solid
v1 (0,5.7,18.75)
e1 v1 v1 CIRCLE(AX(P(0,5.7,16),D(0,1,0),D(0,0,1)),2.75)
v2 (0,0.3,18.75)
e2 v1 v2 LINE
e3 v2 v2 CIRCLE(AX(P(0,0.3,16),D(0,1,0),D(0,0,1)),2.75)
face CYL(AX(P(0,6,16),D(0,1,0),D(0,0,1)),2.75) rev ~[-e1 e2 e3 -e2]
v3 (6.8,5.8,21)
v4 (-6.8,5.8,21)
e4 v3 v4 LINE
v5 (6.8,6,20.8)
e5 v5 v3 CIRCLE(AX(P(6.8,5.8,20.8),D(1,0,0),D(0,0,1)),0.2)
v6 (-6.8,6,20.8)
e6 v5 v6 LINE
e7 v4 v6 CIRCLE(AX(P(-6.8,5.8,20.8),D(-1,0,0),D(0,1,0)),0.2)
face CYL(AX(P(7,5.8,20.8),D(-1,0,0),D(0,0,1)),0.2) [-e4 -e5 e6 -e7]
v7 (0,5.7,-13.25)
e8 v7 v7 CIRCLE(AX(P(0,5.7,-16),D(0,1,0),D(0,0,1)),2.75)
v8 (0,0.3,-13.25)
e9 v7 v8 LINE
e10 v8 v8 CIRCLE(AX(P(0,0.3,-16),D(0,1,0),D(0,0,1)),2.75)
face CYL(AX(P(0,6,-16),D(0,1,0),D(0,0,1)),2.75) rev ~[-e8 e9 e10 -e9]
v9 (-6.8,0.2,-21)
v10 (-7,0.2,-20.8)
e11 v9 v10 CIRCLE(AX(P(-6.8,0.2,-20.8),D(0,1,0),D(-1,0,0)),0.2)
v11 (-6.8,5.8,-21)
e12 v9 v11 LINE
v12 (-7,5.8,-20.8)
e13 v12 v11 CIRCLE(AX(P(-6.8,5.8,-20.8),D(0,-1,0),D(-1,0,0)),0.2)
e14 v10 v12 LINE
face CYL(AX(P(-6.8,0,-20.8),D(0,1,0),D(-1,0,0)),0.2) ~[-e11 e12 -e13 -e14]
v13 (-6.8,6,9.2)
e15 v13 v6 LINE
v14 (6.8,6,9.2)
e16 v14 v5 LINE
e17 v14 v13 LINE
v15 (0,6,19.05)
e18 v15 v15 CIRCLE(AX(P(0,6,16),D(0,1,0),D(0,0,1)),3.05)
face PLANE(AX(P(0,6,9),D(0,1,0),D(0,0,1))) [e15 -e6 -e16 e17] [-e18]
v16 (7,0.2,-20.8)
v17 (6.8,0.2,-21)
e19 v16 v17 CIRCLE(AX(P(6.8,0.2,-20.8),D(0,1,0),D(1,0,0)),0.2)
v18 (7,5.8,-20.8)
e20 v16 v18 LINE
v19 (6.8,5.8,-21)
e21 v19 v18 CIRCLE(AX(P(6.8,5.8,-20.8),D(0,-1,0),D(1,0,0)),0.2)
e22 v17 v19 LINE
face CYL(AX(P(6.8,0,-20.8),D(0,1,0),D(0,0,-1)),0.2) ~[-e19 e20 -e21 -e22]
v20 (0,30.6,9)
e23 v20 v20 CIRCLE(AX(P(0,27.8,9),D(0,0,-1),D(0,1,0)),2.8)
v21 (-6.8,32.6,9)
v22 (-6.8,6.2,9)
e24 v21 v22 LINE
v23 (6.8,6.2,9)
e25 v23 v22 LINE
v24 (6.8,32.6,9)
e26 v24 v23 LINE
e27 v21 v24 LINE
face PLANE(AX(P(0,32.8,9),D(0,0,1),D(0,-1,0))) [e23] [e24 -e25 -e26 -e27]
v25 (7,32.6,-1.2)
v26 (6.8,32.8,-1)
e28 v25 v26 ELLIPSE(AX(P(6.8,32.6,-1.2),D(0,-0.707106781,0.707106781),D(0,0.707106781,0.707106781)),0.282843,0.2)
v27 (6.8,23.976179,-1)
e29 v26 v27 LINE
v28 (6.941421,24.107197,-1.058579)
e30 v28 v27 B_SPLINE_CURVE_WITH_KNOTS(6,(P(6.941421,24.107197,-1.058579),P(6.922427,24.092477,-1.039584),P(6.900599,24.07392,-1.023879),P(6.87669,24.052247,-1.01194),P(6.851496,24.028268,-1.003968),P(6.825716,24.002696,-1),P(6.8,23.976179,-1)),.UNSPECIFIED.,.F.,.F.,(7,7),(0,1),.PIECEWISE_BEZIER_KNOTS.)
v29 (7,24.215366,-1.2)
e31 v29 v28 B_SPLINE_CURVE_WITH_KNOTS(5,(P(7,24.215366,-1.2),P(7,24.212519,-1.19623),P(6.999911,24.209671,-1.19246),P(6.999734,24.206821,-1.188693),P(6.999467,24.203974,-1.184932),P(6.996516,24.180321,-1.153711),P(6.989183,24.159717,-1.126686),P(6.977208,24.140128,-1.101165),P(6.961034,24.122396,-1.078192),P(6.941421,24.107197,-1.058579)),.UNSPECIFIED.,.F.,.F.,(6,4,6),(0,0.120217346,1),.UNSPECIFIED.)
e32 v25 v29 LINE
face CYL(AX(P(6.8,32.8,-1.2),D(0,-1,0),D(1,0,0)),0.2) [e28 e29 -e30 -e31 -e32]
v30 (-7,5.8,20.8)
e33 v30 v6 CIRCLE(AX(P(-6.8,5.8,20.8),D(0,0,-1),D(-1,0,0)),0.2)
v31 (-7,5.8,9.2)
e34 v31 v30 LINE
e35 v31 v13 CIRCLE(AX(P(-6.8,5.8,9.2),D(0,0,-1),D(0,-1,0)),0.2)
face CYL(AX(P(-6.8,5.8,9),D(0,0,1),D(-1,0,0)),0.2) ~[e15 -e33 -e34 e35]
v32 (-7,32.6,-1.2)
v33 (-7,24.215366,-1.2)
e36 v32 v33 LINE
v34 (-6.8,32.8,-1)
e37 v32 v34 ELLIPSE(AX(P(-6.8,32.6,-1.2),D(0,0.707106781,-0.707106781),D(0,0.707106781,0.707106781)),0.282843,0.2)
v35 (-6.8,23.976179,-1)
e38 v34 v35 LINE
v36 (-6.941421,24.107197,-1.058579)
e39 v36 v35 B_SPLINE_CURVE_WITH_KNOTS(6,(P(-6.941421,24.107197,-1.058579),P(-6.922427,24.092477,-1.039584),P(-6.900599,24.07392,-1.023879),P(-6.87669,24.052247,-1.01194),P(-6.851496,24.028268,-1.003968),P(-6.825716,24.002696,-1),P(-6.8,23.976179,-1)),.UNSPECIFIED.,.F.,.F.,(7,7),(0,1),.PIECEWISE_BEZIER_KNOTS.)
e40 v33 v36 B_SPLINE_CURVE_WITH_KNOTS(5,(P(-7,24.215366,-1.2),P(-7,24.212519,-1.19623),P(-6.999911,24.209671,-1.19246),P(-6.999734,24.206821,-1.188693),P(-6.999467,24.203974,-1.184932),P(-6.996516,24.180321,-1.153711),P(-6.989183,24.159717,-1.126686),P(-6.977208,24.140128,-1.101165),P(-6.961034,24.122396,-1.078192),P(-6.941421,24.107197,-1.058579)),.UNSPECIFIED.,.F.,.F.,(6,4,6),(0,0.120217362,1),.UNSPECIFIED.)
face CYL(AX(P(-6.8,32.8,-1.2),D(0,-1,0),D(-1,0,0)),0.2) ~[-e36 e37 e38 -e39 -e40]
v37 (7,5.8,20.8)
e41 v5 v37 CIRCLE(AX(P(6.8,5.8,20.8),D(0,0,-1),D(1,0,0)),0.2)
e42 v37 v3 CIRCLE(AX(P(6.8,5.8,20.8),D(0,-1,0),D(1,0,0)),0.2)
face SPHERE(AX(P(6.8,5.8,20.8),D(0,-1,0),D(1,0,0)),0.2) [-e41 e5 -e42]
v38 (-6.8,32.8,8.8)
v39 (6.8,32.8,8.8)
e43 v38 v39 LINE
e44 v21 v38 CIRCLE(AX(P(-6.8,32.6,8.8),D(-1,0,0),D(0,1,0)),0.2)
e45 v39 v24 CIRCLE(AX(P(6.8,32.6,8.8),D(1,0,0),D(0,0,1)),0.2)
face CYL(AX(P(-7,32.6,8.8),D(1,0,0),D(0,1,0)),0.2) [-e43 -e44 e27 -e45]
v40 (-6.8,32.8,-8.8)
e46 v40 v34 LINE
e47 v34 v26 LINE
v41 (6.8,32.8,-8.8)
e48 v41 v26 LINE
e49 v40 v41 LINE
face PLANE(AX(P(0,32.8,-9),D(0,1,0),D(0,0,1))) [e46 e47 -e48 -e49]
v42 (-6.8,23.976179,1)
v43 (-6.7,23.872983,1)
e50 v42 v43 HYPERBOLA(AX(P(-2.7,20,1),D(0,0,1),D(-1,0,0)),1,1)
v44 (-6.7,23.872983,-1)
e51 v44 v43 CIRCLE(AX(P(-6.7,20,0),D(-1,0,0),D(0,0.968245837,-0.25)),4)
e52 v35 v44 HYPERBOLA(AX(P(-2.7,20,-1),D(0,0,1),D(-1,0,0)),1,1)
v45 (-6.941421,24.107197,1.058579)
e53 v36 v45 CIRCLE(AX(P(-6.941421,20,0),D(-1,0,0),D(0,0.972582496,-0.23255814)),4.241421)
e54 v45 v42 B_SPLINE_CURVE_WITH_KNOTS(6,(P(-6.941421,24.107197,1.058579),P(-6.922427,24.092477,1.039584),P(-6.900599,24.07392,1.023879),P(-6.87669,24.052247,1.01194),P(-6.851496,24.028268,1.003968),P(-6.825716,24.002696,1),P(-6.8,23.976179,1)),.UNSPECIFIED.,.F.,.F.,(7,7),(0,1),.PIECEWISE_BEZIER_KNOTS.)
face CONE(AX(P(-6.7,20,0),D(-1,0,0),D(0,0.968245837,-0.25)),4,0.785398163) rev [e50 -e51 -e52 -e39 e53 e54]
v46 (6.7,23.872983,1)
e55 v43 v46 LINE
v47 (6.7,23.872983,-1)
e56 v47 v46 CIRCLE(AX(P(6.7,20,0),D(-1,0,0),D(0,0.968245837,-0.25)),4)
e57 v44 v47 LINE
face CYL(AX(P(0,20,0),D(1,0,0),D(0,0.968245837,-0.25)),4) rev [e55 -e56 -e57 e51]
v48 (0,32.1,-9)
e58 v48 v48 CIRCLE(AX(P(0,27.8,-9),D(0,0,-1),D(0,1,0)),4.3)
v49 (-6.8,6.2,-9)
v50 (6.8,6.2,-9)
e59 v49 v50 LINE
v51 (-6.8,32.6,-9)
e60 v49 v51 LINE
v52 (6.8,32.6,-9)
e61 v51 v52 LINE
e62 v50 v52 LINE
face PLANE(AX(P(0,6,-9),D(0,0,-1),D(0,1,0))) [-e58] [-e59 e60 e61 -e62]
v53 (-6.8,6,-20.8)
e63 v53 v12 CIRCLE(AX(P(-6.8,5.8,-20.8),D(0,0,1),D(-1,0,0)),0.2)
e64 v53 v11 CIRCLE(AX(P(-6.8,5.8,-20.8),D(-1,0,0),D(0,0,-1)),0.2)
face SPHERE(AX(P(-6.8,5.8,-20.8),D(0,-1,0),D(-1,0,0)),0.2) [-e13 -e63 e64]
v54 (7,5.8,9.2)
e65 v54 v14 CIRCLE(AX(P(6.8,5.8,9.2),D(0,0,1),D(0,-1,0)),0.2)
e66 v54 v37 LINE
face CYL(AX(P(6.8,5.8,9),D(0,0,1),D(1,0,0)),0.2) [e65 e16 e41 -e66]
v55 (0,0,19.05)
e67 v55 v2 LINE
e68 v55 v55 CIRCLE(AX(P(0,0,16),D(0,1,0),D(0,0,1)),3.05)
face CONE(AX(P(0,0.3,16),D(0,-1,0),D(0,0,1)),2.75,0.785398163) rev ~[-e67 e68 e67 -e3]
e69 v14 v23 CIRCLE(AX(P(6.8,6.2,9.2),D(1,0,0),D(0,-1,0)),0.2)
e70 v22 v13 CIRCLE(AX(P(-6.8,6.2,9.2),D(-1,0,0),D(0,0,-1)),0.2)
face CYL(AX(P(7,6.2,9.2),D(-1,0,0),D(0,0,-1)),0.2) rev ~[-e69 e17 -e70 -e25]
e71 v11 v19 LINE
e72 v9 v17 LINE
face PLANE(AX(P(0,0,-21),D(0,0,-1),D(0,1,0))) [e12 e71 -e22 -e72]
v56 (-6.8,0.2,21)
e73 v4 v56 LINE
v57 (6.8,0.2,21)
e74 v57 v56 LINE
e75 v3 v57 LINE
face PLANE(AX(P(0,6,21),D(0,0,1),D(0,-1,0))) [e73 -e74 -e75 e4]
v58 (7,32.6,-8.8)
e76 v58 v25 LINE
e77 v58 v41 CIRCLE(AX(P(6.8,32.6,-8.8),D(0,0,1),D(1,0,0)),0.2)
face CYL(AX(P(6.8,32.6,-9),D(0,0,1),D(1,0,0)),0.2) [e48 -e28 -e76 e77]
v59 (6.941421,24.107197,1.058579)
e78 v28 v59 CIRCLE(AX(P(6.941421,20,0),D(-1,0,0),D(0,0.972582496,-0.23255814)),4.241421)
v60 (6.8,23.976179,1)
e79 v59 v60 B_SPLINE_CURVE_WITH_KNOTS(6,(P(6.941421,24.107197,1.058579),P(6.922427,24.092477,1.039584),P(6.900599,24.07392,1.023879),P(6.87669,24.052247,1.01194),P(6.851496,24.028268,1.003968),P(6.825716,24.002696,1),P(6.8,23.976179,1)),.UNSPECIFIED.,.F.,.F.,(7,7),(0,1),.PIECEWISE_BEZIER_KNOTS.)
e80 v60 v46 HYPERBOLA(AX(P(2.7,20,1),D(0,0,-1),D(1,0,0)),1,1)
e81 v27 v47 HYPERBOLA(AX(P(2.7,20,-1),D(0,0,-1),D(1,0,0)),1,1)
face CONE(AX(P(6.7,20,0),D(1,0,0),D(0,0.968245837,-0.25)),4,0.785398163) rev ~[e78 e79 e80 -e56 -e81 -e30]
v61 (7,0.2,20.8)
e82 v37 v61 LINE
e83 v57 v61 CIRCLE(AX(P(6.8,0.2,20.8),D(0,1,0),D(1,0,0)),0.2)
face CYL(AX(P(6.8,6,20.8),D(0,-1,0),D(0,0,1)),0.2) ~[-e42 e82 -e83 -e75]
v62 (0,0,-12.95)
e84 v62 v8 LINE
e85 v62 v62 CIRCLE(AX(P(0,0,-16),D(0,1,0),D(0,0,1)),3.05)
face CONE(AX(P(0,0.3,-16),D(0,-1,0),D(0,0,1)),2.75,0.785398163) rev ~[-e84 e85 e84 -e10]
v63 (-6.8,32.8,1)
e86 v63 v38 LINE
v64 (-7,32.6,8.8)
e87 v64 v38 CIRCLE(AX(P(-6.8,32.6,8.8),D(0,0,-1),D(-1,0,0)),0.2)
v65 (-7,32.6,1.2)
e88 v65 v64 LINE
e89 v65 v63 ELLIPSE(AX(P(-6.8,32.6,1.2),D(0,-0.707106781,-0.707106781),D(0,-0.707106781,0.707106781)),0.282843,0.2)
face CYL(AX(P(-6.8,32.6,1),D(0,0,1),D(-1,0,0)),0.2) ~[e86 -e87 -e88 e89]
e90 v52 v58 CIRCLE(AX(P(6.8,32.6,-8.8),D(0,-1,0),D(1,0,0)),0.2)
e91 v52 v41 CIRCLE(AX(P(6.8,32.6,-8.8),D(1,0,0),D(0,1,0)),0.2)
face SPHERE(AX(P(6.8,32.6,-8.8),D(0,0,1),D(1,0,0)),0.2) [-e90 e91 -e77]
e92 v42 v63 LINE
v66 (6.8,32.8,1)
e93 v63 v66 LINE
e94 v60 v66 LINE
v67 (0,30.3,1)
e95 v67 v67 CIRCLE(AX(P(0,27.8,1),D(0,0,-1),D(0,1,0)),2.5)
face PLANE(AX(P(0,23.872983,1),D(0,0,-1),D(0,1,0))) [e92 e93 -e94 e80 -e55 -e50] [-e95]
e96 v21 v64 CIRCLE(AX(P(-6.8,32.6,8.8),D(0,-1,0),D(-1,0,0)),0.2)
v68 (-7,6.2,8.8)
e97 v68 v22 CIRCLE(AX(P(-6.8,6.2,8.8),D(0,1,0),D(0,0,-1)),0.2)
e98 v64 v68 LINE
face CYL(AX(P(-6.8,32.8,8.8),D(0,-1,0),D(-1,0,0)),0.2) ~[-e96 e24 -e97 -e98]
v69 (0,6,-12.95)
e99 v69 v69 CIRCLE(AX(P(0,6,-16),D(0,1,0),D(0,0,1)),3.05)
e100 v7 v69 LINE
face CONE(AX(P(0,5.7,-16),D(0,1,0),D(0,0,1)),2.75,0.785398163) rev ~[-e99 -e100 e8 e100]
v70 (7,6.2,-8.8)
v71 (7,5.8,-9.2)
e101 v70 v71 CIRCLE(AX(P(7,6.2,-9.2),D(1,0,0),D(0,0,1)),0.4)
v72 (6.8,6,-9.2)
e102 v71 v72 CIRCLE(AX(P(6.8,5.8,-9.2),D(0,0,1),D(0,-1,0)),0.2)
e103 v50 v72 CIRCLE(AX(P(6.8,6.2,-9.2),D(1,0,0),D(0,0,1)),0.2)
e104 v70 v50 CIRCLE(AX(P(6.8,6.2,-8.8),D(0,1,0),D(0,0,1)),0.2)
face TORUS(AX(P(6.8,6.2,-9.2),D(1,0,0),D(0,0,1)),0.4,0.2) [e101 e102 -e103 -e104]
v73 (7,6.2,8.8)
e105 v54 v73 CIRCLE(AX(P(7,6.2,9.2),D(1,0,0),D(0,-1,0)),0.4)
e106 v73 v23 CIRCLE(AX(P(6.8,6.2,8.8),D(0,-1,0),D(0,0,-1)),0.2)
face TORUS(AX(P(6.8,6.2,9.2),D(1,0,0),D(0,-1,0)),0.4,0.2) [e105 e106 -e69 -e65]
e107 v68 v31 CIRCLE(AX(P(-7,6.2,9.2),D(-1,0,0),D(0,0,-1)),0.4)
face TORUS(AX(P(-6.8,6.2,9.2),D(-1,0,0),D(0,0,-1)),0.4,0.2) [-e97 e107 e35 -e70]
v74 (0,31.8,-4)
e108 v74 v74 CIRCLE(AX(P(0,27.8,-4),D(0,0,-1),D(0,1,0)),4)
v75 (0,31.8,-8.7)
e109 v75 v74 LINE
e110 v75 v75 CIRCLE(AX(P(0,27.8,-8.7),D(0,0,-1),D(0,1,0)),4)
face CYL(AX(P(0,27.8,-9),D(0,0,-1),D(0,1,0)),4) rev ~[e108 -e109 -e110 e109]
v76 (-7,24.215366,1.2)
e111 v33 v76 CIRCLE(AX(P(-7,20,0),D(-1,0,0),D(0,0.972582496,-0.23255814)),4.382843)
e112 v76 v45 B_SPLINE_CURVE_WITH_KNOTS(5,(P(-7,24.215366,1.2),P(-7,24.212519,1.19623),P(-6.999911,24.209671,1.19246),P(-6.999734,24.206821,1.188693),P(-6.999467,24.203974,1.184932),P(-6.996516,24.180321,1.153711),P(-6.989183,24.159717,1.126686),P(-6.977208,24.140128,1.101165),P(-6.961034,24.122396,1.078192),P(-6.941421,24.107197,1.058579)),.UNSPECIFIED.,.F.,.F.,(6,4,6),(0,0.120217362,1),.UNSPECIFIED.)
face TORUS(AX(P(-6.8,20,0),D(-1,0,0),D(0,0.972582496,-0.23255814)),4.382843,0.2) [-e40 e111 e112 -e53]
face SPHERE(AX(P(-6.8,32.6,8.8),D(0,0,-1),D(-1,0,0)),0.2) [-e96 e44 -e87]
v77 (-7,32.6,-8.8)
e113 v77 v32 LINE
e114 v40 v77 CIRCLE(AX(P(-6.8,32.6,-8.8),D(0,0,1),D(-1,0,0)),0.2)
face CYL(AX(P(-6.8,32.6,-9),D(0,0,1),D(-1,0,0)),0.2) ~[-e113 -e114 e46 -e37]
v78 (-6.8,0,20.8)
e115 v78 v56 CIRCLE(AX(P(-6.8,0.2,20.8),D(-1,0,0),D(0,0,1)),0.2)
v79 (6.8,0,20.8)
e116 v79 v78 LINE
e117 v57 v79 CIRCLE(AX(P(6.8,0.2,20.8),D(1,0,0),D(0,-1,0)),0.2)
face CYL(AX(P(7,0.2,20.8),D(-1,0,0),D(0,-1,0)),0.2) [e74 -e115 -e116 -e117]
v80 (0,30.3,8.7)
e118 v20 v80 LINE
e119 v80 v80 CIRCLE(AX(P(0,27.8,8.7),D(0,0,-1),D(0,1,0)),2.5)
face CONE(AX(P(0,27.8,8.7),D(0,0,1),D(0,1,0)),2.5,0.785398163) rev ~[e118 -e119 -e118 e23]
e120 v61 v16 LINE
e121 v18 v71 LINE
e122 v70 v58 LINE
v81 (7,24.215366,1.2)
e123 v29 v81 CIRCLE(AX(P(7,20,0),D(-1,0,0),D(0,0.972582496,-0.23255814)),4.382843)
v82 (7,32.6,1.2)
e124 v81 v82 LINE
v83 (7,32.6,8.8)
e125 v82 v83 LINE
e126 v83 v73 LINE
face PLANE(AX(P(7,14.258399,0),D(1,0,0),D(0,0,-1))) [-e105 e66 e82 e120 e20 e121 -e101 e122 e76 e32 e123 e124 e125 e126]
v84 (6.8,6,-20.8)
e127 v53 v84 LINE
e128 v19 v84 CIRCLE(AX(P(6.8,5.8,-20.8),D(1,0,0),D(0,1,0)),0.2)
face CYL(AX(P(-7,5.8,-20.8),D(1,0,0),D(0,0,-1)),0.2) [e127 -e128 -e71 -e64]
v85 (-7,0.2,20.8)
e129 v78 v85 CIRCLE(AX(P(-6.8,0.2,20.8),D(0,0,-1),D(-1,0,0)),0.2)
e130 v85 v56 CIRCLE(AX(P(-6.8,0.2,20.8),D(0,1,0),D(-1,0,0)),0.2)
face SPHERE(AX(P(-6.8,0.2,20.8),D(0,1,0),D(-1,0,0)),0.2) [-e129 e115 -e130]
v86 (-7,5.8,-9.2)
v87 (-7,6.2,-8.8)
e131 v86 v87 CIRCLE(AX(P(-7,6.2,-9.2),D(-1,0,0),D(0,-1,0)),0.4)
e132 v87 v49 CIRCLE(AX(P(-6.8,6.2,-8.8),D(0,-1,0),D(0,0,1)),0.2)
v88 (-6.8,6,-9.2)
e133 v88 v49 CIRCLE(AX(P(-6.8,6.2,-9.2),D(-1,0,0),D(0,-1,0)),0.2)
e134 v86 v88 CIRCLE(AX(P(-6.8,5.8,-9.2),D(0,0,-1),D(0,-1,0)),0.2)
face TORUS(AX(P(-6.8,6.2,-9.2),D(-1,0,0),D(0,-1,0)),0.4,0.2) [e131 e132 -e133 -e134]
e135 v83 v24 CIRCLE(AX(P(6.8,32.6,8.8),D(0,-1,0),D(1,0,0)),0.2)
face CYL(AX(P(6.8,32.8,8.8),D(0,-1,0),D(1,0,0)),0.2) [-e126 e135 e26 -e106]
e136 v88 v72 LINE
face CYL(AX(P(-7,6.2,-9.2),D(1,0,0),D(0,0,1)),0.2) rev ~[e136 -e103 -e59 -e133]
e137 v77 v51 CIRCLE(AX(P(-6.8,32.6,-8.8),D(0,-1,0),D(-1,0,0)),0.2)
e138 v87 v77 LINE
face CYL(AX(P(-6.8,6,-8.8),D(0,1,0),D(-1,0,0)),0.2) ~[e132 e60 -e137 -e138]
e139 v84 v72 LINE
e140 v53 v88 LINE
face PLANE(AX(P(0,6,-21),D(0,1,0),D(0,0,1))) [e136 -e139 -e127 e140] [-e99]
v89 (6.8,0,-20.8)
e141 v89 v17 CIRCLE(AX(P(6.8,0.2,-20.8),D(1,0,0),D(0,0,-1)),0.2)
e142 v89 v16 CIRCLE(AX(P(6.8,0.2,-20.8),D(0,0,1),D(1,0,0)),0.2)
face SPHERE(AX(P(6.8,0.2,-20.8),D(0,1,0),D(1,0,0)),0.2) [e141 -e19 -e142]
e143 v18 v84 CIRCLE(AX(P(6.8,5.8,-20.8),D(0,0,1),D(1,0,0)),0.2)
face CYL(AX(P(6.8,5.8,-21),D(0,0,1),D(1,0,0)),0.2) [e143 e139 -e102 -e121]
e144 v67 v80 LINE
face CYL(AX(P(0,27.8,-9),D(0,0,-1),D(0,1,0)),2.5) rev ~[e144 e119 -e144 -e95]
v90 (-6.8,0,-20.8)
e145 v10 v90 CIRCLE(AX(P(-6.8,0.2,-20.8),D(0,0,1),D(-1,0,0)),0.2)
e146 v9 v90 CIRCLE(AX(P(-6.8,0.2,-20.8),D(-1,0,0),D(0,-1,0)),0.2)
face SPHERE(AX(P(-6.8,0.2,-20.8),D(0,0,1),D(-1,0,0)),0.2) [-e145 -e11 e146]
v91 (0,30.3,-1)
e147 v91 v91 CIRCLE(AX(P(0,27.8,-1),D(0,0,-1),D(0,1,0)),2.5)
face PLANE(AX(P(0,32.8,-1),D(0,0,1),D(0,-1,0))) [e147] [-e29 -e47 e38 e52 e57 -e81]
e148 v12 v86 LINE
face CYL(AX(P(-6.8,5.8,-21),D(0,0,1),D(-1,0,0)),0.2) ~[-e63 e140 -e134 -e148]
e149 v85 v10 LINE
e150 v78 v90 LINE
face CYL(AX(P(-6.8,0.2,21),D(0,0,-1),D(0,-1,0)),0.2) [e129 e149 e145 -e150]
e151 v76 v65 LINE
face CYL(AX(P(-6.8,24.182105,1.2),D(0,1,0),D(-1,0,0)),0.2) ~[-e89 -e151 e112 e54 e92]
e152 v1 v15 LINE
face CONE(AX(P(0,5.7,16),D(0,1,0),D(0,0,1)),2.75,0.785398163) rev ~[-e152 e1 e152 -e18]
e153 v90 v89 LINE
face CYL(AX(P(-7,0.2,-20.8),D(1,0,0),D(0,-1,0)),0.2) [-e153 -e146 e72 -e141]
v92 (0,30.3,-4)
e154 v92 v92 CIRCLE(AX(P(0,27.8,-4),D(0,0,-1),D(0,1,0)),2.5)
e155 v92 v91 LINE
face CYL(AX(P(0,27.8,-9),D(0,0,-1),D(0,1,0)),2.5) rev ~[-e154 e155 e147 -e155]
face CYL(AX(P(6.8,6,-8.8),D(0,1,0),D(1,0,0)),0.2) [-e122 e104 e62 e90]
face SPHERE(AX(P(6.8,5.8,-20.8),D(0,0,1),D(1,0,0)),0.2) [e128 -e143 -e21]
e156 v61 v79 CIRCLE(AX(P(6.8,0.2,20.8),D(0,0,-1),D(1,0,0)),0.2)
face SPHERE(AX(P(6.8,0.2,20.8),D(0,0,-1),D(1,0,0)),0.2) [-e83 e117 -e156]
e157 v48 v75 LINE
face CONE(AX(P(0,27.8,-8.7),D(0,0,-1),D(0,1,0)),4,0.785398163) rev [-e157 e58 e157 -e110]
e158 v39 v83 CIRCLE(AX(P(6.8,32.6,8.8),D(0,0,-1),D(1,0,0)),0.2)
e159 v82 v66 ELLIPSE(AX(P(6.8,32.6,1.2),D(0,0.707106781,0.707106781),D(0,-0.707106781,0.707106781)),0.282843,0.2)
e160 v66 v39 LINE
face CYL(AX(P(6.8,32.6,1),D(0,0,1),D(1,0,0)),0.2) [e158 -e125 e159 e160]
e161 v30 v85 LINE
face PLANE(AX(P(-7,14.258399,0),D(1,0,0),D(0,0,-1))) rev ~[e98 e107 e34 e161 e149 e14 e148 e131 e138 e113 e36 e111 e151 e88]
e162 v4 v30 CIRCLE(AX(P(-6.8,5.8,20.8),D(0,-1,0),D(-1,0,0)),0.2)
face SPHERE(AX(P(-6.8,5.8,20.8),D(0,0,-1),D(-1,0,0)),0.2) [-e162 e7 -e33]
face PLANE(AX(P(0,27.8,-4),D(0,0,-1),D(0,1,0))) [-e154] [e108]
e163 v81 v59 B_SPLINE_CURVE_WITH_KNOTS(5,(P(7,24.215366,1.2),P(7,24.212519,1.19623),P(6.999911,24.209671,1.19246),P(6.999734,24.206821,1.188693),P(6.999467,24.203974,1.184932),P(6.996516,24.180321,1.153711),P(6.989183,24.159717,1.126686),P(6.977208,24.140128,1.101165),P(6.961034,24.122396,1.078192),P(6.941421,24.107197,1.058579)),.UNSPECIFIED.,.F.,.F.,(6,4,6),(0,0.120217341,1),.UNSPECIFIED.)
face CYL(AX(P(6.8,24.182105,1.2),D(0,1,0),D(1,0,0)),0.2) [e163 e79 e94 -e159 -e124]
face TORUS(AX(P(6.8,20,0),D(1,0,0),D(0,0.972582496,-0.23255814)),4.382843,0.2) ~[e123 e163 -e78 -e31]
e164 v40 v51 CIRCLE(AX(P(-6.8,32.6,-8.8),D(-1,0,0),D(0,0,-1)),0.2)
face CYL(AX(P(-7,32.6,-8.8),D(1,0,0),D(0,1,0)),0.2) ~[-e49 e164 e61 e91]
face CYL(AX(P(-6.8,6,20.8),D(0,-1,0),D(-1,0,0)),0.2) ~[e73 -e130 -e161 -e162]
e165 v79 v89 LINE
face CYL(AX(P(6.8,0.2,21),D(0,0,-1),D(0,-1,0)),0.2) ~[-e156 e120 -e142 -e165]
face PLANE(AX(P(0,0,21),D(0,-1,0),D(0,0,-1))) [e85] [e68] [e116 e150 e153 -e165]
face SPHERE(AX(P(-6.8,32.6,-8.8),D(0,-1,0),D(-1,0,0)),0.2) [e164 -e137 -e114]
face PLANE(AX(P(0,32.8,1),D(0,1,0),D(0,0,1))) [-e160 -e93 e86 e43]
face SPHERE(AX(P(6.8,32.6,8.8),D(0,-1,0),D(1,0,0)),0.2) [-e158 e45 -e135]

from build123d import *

# Parameters (mm, degrees)
BOSS_EXTRUDE1_DEPTH = 7
SKETCH4_R           = 2.75
CUT_EXTRUDE3_DEPTH  = 7
SKETCH6_R           = 2.5
CUT_EXTRUDE4_DEPTH  = 31
SKETCH7_R           = 4
CUT_EXTRUDE5_DEPTH  = 5
CHAMFER_1_SIZE      = 0.3
FILLET_1_R          = 0.2


with BuildPart() as part:
    # Sketch1 → Boss-Extrude1 (new body, symmetric)
    with BuildSketch(Plane(origin=(0, 0, 0), x_dir=(0, 0, -1), z_dir=(1, 0, 0))):
        with BuildLine():
            Line((-21, 0), (21, 0))
            Line((21, 0), (21, 6))
            Line((21, 6), (9, 6))
            Line((9, 6), (9, 32.8))
            Line((9, 32.8), (1, 32.8))
            Line((1, 32.8), (1, 23.872983346))
            ThreePointArc((1, 23.872983346), (0, 16), (-1, 23.872983346))
            Line((-1, 23.872983346), (-1, 32.8))
            Line((-1, 32.8), (-9, 32.8))
            Line((-9, 32.8), (-9, 6))
            Line((-9, 6), (-21, 6))
            Line((-21, 6), (-21, 0))
        make_face()
    extrude(amount=BOSS_EXTRUDE1_DEPTH, both=True)

    # Sketch4 → Cut-Extrude3 (cut, through all)
    with BuildSketch(Plane(origin=(0, 6, 0), x_dir=(1, 0, 0), z_dir=(0, 1, 0))):
        with Locations(Location((0, -16, 0), (0, 0, 270))):  # turned: the seam where the file's is
            Circle(SKETCH4_R)
        with Locations(Location((0, 16, 0), (0, 0, 270))):  # turned: the seam where the file's is
            Circle(SKETCH4_R)
    extrude(amount=-CUT_EXTRUDE3_DEPTH, mode=Mode.SUBTRACT)

    # Sketch6 → Cut-Extrude4 (cut, through all)
    with BuildSketch(Plane(origin=(0, 0, -9), x_dir=(-1, 0, 0), z_dir=(0, 0, -1))):
        with Locations(Location((0, 27.8, 0), (0, 0, 90))):  # turned: the seam where the file's is
            Circle(SKETCH6_R)
    extrude(amount=-CUT_EXTRUDE4_DEPTH, mode=Mode.SUBTRACT)

    # Sketch7 → Cut-Extrude5 (cut)
    with BuildSketch(Plane(origin=(0, 0, -9), x_dir=(-1, 0, 0), z_dir=(0, 0, -1))):
        with Locations(Location((0, 27.8, 0), (0, 0, 90))):  # turned: the seam where the file's is
            Circle(SKETCH7_R)
    extrude(amount=-CUT_EXTRUDE5_DEPTH, mode=Mode.SUBTRACT)

    # Фаска1
    chamfer_1_edges = [part.edges().sort_by_distance(p)[0] for p in [
        (-7, 16, 0),
        (7, 16, 0),
        (0, 0, 13.25),
        (0, 6, 13.25),
        (0, 0, -18.75),
        (0, 6, -18.75),
        (0, 25.3, 9),
        (0, 23.8, -9),
    ]]
    chamfer(chamfer_1_edges, length=CHAMFER_1_SIZE)

    # Скругление1
    fillet_1_edges = [part.edges().sort_by_distance(p)[0] for p in [
        (-7, 32.8, 5),
        (-7, 19.4, 9),
        (-7, 6, 15),
        (-7, 3, 21),
        (-7, 0, 0),
        (-7, 3, -21),
        (-7, 6, -15),
        (-7, 19.4, -9),
        (-7, 32.8, -5),
        (-7, 28.491052367, -1),
        (-7, 15.7, 0),
        (-7, 28.491052367, 1),
        (7, 32.8, -5),
        (7, 19.4, -9),
        (7, 6, -15),
        (7, 3, -21),
        (7, 0, 0),
        (7, 3, 21),
        (7, 6, 15),
        (7, 19.4, 9),
        (7, 32.8, 5),
        (7, 28.491052367, 1),
        (7, 15.7, 0),
        (7, 28.491052367, -1),
        (0, 0, 21),
        (0, 6, 9),
        (0, 6, 21),
        (0, 32.8, 9),
        (0, 0, -21),
        (0, 32.8, -9),
        (0, 6, -9),
        (0, 6, -21),
    ]]
    fillet(fillet_1_edges, radius=FILLET_1_R)


solid = part.part
